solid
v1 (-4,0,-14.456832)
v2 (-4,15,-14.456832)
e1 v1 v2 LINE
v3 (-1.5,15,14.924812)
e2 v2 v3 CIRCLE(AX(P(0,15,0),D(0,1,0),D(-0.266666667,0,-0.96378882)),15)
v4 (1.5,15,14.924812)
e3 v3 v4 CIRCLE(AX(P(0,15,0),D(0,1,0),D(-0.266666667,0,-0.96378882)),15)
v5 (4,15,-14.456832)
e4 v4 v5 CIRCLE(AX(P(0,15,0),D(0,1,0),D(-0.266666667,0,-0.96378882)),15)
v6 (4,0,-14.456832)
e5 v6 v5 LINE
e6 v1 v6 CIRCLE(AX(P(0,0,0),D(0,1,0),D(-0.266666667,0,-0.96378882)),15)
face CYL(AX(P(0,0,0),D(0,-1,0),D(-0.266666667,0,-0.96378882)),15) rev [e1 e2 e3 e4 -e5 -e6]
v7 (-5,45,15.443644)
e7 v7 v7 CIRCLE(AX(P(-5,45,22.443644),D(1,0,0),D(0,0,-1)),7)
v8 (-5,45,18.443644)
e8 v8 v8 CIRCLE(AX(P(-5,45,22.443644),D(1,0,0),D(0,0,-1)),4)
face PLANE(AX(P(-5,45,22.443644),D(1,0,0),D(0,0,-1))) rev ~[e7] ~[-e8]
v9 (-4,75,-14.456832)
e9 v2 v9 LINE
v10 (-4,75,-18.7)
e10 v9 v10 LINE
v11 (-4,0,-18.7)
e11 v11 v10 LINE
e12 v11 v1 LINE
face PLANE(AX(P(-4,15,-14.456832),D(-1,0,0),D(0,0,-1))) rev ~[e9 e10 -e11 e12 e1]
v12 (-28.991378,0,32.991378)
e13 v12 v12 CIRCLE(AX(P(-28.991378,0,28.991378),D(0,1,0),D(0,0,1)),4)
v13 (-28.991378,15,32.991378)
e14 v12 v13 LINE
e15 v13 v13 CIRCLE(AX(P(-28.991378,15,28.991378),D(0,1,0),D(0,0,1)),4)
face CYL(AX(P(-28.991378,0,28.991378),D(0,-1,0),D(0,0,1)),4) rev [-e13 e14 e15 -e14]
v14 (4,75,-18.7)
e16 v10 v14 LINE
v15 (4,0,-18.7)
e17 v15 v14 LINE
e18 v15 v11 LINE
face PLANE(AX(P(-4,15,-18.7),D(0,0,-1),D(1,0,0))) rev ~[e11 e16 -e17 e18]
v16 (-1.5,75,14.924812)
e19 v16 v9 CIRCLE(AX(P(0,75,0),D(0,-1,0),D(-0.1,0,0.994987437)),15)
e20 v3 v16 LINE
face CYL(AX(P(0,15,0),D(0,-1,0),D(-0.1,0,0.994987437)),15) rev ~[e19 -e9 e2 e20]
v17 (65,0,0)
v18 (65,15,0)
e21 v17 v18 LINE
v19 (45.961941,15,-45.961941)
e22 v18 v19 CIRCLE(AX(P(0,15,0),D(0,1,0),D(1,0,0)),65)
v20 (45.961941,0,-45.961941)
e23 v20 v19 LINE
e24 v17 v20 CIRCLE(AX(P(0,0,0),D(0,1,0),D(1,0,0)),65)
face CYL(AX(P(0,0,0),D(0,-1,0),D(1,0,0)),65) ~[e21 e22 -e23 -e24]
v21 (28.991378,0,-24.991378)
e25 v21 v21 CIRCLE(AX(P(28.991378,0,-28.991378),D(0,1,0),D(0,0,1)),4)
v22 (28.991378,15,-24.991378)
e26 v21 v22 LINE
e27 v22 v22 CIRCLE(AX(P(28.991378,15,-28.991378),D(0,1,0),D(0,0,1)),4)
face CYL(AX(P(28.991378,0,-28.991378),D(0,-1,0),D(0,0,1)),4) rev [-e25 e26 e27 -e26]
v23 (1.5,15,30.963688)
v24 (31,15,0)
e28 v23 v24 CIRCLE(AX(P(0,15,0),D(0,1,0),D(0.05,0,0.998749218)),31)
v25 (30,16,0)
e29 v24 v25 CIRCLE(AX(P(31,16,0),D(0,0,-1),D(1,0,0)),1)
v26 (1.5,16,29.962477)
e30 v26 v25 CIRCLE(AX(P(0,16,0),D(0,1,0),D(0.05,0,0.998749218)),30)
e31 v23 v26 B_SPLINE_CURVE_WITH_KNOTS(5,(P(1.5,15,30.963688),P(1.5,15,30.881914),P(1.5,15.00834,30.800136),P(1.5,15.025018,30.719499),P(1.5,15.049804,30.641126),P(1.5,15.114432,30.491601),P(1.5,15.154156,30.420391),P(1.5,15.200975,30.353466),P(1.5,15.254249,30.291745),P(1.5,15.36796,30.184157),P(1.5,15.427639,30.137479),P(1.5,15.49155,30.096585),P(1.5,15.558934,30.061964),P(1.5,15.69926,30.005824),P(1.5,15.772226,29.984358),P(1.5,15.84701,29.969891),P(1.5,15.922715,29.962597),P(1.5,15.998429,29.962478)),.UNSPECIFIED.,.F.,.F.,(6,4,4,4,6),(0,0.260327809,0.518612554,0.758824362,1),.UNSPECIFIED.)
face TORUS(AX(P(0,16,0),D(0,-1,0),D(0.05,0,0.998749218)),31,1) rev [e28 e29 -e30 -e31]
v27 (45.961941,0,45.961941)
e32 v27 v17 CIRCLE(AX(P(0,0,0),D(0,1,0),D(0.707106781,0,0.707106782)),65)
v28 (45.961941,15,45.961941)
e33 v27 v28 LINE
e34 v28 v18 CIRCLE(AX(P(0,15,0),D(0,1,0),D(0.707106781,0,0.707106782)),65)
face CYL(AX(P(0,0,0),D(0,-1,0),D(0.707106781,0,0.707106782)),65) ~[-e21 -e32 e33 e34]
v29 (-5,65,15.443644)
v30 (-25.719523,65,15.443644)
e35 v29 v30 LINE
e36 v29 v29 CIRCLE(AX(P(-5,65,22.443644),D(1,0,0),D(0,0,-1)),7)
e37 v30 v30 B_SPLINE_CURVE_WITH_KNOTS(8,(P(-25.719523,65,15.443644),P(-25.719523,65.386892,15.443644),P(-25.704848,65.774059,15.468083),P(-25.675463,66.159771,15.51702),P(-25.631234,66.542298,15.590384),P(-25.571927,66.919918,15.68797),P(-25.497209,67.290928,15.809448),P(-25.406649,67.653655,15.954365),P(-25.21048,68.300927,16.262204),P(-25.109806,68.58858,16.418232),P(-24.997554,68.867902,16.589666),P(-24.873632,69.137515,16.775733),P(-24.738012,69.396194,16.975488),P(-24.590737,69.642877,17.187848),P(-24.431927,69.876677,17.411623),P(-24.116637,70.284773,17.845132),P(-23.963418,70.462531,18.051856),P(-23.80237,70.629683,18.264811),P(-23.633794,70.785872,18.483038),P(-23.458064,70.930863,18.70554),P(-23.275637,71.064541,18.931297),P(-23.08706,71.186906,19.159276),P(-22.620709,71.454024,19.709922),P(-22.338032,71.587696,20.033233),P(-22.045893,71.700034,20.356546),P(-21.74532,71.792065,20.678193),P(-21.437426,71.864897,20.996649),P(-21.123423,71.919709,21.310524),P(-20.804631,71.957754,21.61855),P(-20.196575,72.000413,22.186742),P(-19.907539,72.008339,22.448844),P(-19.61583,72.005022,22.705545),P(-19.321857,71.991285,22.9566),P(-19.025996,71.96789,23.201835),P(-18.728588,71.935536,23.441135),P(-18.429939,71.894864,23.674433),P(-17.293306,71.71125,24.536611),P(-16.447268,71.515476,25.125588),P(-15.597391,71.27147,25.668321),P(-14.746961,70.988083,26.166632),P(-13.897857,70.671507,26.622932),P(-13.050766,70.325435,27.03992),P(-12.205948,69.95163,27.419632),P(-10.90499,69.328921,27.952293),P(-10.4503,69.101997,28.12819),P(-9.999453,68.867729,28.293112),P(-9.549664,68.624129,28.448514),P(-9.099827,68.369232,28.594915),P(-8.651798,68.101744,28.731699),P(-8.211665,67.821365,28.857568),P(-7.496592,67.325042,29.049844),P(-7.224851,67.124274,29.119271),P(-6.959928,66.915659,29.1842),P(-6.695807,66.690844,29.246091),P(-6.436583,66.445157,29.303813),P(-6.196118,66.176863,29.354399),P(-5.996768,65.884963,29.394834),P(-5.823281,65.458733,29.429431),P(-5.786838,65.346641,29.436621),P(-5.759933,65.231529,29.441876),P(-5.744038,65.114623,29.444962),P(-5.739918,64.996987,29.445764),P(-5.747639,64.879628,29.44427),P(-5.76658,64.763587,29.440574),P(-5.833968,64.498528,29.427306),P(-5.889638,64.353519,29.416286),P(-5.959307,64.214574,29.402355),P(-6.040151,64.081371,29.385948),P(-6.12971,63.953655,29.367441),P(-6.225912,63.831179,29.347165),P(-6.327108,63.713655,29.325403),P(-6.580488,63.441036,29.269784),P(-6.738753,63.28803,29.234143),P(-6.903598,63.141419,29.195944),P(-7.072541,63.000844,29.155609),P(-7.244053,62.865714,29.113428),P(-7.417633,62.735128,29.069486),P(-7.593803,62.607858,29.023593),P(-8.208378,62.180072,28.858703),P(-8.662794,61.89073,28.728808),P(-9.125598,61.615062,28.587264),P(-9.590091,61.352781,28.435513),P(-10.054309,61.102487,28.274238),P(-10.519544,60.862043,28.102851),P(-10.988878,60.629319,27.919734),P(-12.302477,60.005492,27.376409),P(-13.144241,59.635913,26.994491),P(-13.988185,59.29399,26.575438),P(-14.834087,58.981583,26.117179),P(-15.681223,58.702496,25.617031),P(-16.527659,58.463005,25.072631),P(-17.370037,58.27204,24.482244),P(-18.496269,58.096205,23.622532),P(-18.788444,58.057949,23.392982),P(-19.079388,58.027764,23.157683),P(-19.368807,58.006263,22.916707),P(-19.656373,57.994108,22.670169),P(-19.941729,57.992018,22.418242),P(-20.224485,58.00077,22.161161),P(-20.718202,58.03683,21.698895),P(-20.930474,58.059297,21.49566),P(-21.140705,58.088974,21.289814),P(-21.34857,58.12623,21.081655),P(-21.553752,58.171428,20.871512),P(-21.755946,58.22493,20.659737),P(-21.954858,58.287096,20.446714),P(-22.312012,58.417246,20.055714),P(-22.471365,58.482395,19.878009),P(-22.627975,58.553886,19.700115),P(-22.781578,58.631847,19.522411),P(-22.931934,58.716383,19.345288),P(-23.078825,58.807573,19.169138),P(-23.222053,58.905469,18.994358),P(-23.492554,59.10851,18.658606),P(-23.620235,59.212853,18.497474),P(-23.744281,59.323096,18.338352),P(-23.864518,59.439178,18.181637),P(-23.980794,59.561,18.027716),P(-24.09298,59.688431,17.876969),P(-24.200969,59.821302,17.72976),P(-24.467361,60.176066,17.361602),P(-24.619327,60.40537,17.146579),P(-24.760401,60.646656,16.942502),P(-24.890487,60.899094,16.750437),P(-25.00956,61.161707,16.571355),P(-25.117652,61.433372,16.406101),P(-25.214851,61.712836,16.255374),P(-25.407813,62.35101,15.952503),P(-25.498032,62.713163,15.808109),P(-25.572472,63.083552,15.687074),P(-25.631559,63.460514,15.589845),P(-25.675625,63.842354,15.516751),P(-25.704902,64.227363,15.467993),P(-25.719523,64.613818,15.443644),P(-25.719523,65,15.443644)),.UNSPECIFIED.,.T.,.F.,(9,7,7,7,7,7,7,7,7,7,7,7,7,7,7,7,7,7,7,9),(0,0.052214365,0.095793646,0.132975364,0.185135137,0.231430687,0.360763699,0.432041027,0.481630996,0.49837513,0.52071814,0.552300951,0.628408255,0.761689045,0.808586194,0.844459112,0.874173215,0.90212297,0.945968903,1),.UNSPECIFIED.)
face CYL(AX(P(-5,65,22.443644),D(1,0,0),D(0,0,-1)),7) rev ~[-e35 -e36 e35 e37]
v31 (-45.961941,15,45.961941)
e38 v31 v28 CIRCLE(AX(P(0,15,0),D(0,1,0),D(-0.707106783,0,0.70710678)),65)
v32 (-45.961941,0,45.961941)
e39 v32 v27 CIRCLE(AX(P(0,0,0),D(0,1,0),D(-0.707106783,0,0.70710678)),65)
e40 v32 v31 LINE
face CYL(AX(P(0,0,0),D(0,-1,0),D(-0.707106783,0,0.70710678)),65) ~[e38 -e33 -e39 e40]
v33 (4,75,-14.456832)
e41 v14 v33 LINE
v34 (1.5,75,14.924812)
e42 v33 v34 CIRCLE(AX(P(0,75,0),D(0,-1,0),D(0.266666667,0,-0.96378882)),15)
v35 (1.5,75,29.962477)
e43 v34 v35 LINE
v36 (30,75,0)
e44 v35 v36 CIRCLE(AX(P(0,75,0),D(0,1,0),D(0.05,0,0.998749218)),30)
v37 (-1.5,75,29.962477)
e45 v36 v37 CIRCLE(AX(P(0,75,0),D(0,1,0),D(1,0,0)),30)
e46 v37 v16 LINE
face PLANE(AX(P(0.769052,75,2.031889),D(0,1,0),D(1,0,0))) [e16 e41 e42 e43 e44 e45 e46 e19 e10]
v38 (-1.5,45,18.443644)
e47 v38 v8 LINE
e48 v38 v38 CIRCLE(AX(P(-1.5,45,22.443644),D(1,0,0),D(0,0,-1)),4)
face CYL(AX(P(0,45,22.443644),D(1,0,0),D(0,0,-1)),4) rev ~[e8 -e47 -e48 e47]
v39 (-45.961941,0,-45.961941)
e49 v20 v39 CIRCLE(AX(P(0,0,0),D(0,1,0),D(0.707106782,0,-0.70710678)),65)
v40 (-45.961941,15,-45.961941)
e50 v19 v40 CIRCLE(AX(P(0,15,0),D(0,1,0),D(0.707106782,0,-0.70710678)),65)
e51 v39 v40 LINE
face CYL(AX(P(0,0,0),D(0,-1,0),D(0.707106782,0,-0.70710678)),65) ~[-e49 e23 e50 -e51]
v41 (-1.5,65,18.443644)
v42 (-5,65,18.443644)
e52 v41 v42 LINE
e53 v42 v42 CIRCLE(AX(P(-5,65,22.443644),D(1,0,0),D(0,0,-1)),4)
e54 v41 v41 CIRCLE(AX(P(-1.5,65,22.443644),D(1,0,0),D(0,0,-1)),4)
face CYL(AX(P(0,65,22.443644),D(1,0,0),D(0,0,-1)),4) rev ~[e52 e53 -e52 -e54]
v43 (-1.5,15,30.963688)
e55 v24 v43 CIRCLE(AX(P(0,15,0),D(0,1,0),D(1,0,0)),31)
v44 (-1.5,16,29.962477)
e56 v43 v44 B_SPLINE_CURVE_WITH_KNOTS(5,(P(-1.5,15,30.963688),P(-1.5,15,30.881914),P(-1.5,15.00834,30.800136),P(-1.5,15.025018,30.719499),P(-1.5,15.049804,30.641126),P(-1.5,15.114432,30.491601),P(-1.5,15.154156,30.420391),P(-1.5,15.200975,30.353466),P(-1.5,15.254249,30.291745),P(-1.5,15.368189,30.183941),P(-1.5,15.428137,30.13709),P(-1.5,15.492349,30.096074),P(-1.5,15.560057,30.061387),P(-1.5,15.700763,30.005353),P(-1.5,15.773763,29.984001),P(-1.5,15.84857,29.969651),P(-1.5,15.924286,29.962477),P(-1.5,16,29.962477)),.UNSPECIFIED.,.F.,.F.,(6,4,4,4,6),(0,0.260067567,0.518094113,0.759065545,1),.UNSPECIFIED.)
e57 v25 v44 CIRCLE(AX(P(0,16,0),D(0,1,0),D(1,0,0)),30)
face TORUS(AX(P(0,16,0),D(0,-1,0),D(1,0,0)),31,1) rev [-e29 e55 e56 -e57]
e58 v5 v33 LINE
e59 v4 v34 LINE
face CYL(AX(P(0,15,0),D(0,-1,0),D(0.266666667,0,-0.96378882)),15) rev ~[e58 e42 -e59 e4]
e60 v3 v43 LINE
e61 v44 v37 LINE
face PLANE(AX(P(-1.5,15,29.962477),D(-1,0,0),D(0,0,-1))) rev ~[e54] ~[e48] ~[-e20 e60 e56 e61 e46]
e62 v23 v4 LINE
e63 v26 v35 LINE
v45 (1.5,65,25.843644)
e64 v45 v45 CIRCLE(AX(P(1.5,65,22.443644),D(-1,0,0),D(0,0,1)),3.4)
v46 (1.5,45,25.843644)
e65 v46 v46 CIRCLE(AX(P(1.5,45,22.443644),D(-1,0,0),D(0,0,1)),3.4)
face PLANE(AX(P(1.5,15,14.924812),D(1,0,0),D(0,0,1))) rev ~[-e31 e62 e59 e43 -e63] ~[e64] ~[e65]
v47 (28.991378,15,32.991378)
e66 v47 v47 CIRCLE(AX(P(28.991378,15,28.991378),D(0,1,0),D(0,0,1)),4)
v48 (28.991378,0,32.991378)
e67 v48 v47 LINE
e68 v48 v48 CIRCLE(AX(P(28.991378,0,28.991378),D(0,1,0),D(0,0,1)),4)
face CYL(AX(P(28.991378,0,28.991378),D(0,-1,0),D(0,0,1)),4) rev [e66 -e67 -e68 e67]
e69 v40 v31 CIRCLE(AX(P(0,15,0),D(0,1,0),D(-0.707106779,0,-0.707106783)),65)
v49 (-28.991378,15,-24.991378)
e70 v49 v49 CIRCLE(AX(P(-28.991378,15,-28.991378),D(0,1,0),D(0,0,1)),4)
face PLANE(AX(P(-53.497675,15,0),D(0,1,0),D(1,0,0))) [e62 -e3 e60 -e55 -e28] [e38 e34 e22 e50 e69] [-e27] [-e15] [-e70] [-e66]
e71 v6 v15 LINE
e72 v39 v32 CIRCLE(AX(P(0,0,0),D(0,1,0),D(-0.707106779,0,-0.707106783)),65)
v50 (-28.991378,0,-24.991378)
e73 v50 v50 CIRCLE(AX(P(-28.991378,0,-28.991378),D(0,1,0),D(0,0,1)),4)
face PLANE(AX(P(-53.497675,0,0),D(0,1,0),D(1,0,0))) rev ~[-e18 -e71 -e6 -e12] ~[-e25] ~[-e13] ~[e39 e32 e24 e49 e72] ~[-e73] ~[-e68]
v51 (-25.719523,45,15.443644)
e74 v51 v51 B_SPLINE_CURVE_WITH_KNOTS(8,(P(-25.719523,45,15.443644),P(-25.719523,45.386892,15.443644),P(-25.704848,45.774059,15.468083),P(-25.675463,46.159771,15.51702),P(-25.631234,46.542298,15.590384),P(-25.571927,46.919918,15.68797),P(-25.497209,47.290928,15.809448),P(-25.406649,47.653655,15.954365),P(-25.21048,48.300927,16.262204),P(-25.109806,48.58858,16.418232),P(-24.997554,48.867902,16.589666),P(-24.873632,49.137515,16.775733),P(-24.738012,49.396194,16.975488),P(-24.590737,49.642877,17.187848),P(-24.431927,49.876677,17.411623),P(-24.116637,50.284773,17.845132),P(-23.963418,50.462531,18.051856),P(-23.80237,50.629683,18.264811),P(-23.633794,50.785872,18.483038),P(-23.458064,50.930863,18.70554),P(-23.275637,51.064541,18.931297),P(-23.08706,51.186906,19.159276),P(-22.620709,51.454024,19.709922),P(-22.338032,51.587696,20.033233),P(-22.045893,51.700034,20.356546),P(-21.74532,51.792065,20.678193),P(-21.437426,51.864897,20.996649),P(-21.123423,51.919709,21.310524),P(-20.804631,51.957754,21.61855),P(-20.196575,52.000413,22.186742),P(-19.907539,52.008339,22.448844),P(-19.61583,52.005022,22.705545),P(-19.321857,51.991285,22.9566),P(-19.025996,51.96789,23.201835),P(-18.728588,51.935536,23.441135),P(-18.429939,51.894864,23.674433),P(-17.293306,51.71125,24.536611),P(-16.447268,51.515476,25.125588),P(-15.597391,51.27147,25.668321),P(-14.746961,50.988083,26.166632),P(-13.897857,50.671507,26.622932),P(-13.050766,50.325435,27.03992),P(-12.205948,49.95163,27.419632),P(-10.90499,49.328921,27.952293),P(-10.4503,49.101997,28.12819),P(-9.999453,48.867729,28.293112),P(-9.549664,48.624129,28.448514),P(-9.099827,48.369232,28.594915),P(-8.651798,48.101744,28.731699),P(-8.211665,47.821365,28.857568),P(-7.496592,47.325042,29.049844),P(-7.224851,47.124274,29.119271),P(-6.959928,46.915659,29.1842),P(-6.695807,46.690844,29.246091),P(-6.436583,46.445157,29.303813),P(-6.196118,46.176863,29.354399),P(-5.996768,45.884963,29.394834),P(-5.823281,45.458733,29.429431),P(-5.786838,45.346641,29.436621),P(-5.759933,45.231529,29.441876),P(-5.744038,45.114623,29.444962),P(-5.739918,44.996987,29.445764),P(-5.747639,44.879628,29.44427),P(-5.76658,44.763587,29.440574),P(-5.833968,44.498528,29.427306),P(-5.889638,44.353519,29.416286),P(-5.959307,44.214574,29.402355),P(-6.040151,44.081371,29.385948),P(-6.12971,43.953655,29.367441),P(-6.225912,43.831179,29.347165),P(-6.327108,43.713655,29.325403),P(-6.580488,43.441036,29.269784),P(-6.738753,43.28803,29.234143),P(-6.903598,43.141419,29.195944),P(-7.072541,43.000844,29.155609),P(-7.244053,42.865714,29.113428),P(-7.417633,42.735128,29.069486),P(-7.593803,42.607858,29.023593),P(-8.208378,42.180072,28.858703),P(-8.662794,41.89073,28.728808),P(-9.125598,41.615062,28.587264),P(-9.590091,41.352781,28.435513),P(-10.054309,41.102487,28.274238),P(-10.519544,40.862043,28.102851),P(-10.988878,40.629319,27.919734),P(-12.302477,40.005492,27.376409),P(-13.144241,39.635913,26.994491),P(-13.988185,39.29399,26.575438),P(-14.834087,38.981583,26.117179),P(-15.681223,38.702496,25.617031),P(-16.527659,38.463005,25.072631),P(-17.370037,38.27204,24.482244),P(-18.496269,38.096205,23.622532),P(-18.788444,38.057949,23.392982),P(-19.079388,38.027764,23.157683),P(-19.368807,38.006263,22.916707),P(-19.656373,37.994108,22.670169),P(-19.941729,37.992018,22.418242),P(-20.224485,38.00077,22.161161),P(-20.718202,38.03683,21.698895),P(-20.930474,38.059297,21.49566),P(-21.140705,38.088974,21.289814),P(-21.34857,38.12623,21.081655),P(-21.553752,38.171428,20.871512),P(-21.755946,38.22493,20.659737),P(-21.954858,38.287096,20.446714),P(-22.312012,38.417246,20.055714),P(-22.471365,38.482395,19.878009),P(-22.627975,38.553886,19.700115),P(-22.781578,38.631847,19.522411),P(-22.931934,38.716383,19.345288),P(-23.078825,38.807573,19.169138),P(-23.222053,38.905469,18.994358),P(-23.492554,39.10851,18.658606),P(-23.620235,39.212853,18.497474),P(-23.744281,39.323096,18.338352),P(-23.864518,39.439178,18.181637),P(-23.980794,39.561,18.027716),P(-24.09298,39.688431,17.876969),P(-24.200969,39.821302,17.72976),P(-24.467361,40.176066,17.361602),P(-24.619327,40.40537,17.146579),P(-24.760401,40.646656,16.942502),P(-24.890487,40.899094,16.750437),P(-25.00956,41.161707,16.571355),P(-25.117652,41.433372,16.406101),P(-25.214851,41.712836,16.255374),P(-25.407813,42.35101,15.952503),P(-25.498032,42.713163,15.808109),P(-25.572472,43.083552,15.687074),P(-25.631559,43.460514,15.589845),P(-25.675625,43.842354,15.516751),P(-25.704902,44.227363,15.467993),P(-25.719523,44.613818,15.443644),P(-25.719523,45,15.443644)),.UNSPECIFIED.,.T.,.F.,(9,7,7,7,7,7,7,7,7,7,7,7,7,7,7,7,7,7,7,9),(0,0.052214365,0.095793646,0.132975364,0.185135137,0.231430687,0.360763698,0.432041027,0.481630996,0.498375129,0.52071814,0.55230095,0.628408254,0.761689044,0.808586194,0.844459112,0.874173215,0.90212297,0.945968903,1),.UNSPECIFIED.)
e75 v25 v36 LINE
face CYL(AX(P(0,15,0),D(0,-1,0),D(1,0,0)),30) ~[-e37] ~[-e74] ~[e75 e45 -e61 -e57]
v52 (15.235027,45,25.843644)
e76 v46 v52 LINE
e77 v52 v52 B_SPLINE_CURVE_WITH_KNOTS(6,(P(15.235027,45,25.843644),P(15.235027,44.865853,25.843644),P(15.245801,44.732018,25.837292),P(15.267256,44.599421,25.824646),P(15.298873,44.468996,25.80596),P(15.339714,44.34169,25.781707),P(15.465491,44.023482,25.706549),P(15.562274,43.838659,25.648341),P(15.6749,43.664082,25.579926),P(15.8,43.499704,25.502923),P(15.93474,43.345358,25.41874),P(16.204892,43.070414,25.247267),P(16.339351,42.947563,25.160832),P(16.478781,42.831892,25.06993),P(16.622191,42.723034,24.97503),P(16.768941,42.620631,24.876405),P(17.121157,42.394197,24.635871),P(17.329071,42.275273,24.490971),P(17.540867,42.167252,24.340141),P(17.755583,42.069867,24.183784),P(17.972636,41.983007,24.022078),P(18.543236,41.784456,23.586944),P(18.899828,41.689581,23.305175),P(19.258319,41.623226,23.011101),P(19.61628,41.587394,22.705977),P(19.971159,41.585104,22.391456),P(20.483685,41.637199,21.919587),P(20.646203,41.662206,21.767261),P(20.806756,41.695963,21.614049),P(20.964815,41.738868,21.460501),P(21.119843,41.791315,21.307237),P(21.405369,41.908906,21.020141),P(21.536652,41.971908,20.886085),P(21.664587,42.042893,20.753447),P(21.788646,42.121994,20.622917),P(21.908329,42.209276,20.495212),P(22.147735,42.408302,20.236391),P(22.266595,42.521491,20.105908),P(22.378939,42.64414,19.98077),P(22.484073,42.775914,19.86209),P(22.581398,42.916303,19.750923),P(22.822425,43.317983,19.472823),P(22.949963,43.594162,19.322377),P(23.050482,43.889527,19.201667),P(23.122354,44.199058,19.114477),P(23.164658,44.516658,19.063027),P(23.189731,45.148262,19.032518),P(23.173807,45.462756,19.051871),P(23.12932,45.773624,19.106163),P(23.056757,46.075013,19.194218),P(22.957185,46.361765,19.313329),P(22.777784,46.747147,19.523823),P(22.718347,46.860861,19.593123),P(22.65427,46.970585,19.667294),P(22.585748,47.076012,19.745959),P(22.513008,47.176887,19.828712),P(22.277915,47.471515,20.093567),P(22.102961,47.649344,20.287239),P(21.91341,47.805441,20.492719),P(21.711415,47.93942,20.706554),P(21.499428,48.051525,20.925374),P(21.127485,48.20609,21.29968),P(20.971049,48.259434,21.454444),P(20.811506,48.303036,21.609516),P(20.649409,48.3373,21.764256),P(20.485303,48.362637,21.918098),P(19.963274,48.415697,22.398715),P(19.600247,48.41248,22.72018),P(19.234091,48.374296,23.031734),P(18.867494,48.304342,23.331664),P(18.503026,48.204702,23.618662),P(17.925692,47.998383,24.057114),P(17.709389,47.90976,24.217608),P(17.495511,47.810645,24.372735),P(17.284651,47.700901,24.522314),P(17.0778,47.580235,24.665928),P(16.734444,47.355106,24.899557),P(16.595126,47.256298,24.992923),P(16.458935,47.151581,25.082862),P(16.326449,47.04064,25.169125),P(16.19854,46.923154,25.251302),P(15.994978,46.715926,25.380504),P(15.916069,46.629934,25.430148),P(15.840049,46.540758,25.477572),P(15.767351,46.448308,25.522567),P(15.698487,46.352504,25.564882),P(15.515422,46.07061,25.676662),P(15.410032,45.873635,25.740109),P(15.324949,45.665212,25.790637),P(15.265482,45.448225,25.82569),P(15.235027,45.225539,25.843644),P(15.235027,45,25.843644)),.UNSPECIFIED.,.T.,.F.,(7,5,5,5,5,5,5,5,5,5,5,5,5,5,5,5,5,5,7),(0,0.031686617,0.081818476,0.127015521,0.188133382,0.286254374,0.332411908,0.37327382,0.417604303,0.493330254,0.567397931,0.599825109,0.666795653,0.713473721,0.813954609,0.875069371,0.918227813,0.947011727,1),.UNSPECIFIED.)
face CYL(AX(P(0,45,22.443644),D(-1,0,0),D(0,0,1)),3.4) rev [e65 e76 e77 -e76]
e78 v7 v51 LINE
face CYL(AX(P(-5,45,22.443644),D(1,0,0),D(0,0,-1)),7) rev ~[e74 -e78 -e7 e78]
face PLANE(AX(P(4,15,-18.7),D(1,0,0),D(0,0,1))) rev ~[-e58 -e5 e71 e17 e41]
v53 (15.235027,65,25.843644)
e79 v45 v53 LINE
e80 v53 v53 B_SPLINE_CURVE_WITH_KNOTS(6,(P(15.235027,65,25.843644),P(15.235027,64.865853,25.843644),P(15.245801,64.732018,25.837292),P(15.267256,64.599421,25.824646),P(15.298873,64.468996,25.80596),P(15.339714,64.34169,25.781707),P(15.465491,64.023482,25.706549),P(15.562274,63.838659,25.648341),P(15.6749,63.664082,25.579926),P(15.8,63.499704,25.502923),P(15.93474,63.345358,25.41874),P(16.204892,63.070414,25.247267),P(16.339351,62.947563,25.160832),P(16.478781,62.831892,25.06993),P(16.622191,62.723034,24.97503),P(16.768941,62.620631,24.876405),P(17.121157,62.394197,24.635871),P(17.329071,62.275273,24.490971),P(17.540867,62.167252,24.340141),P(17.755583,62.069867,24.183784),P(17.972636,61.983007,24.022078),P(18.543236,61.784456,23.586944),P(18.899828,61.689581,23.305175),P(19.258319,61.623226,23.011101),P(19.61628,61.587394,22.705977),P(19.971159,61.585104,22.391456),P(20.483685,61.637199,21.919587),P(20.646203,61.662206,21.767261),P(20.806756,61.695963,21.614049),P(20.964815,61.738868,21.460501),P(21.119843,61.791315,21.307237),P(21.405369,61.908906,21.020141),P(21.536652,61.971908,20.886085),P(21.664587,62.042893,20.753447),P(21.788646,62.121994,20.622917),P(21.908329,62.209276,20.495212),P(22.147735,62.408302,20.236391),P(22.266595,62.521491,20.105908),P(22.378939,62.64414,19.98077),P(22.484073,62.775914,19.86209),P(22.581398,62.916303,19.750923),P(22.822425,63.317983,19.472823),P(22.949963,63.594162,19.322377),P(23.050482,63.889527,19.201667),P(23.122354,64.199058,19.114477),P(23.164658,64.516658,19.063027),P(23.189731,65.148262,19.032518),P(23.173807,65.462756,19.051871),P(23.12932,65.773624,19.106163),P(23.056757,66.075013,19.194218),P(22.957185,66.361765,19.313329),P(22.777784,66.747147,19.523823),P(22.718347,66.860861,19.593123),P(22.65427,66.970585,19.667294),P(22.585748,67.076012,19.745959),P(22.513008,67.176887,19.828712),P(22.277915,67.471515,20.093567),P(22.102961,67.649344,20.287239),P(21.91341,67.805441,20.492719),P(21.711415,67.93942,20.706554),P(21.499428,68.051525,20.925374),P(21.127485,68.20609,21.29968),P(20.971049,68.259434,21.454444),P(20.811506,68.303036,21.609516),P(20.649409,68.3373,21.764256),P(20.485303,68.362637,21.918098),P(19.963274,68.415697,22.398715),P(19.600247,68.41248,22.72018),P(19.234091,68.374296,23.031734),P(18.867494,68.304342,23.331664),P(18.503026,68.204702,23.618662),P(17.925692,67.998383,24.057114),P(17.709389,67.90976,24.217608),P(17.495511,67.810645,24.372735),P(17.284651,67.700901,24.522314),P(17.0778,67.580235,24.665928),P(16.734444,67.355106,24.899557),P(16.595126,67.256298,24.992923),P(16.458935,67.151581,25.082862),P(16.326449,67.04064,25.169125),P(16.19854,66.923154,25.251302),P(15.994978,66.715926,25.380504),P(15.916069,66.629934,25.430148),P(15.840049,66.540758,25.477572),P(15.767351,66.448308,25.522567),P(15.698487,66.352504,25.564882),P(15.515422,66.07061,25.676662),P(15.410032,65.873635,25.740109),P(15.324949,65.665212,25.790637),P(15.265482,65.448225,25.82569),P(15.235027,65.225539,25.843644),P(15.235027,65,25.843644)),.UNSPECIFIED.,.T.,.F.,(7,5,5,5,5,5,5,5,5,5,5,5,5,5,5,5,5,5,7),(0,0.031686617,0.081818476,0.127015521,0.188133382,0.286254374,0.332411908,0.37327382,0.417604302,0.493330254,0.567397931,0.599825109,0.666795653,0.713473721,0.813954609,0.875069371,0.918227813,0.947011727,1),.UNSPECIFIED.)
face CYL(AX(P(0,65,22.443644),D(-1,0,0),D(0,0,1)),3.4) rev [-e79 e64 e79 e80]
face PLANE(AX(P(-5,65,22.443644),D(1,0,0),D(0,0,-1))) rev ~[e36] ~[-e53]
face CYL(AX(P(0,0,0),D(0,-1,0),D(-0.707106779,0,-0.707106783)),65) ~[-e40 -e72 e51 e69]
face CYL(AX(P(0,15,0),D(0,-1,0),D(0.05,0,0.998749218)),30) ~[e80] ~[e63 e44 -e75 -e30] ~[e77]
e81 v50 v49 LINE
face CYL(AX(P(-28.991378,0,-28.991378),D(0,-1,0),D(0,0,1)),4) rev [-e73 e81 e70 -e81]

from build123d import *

# Parameters (mm, degrees)
SKETCH3_R           = 4
BOSS_EXTRUDE1_DEPTH = 15
BOSS_EXTRUDE2_DEPTH = 60
SKETCH6_R           = 3.4
CUT_EXTRUDE1_DEPTH  = 107.024394791
SKETCH7_R           = 4
CUT_EXTRUDE2_DEPTH  = 107.024394862
CUT_EXTRUDE3_START  = -5
SKETCH10_R          = 7
SKETCH10_R_2        = 3.4
CUT_EXTRUDE3_DEPTH  = 102.024394862
BOSS_EXTRUDE3_DEPTH = 15
FILLET1_R           = 1


with BuildPart() as part:
    # Sketch3 → Boss-Extrude1 (new body)
    with BuildSketch(Plane(origin=(0, 0, 0), x_dir=(1, 0, 0), z_dir=(0, 1, 0))):
        with BuildLine():
            ThreePointArc((-50.387748924, -18.119611268), (-46.048367083, 0), (-50.387748924, 18.119611268))
            ThreePointArc((-50.387748924, 18.119611268), (-45.961940777, 45.961940777), (-18.119611268, 50.387748924))
            ThreePointArc((-18.119611268, 50.387748924), (0, 46.048367083), (18.119611268, 50.387748924))
            ThreePointArc((18.119611268, 50.387748924), (45.961940777, 45.961940777), (50.387748924, 18.119611268))
            ThreePointArc((50.387748924, 18.119611268), (46.048367083, 0), (50.387748924, -18.119611268))
            ThreePointArc((50.387748924, -18.119611268), (45.961940777, -45.961940777), (18.119611268, -50.387748924))
            ThreePointArc((18.119611268, -50.387748924), (0, -46.048367083), (-18.119611268, -50.387748924))
            ThreePointArc((-18.119611268, -50.387748924), (-45.961940777, -45.961940777), (-50.387748924, -18.119611268))
        make_face()
        with Locations(Location((28.991378029, 28.991378029, 0), (0, 0, 270))):
            Circle(SKETCH3_R, mode=Mode.SUBTRACT)
        with Locations(Location((28.991378029, -28.991378029, 0), (0, 0, 270))):
            Circle(SKETCH3_R, mode=Mode.SUBTRACT)
        with Locations(Location((-28.991378029, -28.991378029, 0), (0, 0, 270))):
            Circle(SKETCH3_R, mode=Mode.SUBTRACT)
        with Locations(Location((-28.991378029, 28.991378029, 0), (0, 0, 270))):
            Circle(SKETCH3_R, mode=Mode.SUBTRACT)
        with BuildLine():
            Line((-4, 18.7), (-4, 14.456832295))
            ThreePointArc((-4, 14.456832295), (0, -15), (4, 14.456832295))
            Line((4, 14.456832295), (4, 18.7))
            Line((4, 18.7), (-4, 18.7))
        make_face(mode=Mode.SUBTRACT)
    extrude(amount=BOSS_EXTRUDE1_DEPTH)

    # Sketch4 → Boss-Extrude2 (add)
    with BuildSketch(Plane(origin=(0, 15, 0), x_dir=(1, 0, 0), z_dir=(0, 1, 0))):
        with BuildLine():
            Line((-4, 14.456832295), (-4, 18.7))
            Line((-4, 18.7), (4, 18.7))
            Line((4, 18.7), (4, 14.456832295))
            ThreePointArc((4, 14.456832295), (14.945994408, -1.271711896), (1.5, -14.924811557))
            Line((1.5, -14.924811557), (1.5, -29.962476533))
            ThreePointArc((1.5, -29.962476533), (21.737065119, -20.676073128), (30, 0))
            ThreePointArc((30, 0), (-20.676073128, 21.737065119), (-1.5, -29.962476533))
            Line((-1.5, -29.962476533), (-1.5, -14.924811557))
            ThreePointArc((-1.5, -14.924811557), (-14.945994408, -1.271711896), (-4, 14.456832295))
        make_face()
    extrude(amount=BOSS_EXTRUDE2_DEPTH)

    # Sketch6 → Cut-Extrude1 (cut, through all)
    with BuildSketch(Plane(origin=(0, 0, 0), x_dir=(0, 0, -1), z_dir=(1, 0, 0))):
        with Locations(Location((-22.443644045, 65, 0), (0, 0, 180))):
            Circle(SKETCH6_R)
        with Locations(Location((-22.443644045, 45, 0), (0, 0, 180))):
            Circle(SKETCH6_R)
    extrude(amount=CUT_EXTRUDE1_DEPTH, mode=Mode.SUBTRACT)

    # Sketch7 → Cut-Extrude2 (cut, through all)
    with BuildSketch(Plane(origin=(0, 0, 0), x_dir=(0, 0, -1), z_dir=(1, 0, 0))):
        with Locations((-22.443644045, 65)):
            Circle(SKETCH7_R)
        with Locations((-22.443644045, 45)):
            Circle(SKETCH7_R)
    extrude(amount=-CUT_EXTRUDE2_DEPTH, mode=Mode.SUBTRACT)

    # Sketch10 → Cut-Extrude3 (cut, through all)
    # profile 1 of 2: a face of its own
    with BuildSketch(Plane(origin=(0, 0, 0), x_dir=(0, 0, -1), z_dir=(1, 0, 0)).offset(CUT_EXTRUDE3_START)):
        with Locations((-22.443644045, 65)):
            Circle(SKETCH10_R)
        with Locations(Location((-22.443644045, 65, 0), (0, 0, 180))):
            Circle(SKETCH10_R_2, mode=Mode.SUBTRACT)
    # profile 2 of 2: a face of its own
    with BuildSketch(Plane(origin=(0, 0, 0), x_dir=(0, 0, -1), z_dir=(1, 0, 0)).offset(CUT_EXTRUDE3_START)):
        with Locations((-22.443644045, 45)):
            Circle(SKETCH10_R)
        with Locations(Location((-22.443644045, 45, 0), (0, 0, 180))):
            Circle(SKETCH10_R_2, mode=Mode.SUBTRACT)
    extrude(amount=-CUT_EXTRUDE3_DEPTH, mode=Mode.SUBTRACT)

    # Sketch11 → Boss-Extrude3 (add)
    with BuildSketch(Plane(origin=(0, 0, 0), x_dir=(1, 0, 0), z_dir=(0, 1, 0))):
        with BuildLine():
            ThreePointArc((-50.387748924, 18.119611268), (-52.693787753, 32.759105894), (-45.961940644, 45.96194091))
            ThreePointArc((-45.961940644, 45.96194091), (-65, 1.62e-07), (-45.961940873, -45.961940681))
            ThreePointArc((-45.961940873, -45.961940681), (-52.693787778, -32.759105733), (-50.387748924, -18.119611268))
            ThreePointArc((-50.387748924, -18.119611268), (-46.048367083, 0), (-50.387748924, 18.119611268))
        make_face()
        with BuildLine():
            ThreePointArc((18.119611268, 50.387748924), (32.759105845, 52.693787761), (45.961940841, 45.961940713))
            ThreePointArc((45.961940841, 45.961940713), (1.4e-07, 65), (-45.961940644, 45.96194091))
            ThreePointArc((-45.961940644, 45.96194091), (-32.759105708, 52.693787782), (-18.119611268, 50.387748924))
            ThreePointArc((-18.119611268, 50.387748924), (0, 46.048367083), (18.119611268, 50.387748924))
        make_face()
        with BuildLine():
            ThreePointArc((-45.961940873, -45.961940681), (-8.4e-08, -65), (45.961940754, -45.9619408))
            ThreePointArc((45.961940754, -45.9619408), (32.759105785, -52.69378777), (18.119611268, -50.387748924))
            ThreePointArc((18.119611268, -50.387748924), (0, -46.048367083), (-18.119611268, -50.387748924))
            ThreePointArc((-18.119611268, -50.387748924), (-32.759105868, -52.693787757), (-45.961940873, -45.961940681))
        make_face()
        with BuildLine():
            ThreePointArc((45.961940754, -45.9619408), (60.052169607, -24.874423119), (65, 0))
            ThreePointArc((65, 0), (60.052169631, 24.874423062), (45.961940841, 45.961940713))
            ThreePointArc((45.961940841, 45.961940713), (52.693787775, 32.759105756), (50.387748924, 18.119611268))
            ThreePointArc((50.387748924, 18.119611268), (46.048367083, 0), (50.387748924, -18.119611268))
            ThreePointArc((50.387748924, -18.119611268), (52.693787765, -32.759105817), (45.961940754, -45.9619408))
        make_face()
    extrude(amount=BOSS_EXTRUDE3_DEPTH)

    # Fillet1
    fillet1_edges = [part.edges().sort_by_distance(p)[0] for p in [
        (0, 15, -30),
    ]]
    fillet(fillet1_edges, radius=FILLET1_R)


solid = part.part
